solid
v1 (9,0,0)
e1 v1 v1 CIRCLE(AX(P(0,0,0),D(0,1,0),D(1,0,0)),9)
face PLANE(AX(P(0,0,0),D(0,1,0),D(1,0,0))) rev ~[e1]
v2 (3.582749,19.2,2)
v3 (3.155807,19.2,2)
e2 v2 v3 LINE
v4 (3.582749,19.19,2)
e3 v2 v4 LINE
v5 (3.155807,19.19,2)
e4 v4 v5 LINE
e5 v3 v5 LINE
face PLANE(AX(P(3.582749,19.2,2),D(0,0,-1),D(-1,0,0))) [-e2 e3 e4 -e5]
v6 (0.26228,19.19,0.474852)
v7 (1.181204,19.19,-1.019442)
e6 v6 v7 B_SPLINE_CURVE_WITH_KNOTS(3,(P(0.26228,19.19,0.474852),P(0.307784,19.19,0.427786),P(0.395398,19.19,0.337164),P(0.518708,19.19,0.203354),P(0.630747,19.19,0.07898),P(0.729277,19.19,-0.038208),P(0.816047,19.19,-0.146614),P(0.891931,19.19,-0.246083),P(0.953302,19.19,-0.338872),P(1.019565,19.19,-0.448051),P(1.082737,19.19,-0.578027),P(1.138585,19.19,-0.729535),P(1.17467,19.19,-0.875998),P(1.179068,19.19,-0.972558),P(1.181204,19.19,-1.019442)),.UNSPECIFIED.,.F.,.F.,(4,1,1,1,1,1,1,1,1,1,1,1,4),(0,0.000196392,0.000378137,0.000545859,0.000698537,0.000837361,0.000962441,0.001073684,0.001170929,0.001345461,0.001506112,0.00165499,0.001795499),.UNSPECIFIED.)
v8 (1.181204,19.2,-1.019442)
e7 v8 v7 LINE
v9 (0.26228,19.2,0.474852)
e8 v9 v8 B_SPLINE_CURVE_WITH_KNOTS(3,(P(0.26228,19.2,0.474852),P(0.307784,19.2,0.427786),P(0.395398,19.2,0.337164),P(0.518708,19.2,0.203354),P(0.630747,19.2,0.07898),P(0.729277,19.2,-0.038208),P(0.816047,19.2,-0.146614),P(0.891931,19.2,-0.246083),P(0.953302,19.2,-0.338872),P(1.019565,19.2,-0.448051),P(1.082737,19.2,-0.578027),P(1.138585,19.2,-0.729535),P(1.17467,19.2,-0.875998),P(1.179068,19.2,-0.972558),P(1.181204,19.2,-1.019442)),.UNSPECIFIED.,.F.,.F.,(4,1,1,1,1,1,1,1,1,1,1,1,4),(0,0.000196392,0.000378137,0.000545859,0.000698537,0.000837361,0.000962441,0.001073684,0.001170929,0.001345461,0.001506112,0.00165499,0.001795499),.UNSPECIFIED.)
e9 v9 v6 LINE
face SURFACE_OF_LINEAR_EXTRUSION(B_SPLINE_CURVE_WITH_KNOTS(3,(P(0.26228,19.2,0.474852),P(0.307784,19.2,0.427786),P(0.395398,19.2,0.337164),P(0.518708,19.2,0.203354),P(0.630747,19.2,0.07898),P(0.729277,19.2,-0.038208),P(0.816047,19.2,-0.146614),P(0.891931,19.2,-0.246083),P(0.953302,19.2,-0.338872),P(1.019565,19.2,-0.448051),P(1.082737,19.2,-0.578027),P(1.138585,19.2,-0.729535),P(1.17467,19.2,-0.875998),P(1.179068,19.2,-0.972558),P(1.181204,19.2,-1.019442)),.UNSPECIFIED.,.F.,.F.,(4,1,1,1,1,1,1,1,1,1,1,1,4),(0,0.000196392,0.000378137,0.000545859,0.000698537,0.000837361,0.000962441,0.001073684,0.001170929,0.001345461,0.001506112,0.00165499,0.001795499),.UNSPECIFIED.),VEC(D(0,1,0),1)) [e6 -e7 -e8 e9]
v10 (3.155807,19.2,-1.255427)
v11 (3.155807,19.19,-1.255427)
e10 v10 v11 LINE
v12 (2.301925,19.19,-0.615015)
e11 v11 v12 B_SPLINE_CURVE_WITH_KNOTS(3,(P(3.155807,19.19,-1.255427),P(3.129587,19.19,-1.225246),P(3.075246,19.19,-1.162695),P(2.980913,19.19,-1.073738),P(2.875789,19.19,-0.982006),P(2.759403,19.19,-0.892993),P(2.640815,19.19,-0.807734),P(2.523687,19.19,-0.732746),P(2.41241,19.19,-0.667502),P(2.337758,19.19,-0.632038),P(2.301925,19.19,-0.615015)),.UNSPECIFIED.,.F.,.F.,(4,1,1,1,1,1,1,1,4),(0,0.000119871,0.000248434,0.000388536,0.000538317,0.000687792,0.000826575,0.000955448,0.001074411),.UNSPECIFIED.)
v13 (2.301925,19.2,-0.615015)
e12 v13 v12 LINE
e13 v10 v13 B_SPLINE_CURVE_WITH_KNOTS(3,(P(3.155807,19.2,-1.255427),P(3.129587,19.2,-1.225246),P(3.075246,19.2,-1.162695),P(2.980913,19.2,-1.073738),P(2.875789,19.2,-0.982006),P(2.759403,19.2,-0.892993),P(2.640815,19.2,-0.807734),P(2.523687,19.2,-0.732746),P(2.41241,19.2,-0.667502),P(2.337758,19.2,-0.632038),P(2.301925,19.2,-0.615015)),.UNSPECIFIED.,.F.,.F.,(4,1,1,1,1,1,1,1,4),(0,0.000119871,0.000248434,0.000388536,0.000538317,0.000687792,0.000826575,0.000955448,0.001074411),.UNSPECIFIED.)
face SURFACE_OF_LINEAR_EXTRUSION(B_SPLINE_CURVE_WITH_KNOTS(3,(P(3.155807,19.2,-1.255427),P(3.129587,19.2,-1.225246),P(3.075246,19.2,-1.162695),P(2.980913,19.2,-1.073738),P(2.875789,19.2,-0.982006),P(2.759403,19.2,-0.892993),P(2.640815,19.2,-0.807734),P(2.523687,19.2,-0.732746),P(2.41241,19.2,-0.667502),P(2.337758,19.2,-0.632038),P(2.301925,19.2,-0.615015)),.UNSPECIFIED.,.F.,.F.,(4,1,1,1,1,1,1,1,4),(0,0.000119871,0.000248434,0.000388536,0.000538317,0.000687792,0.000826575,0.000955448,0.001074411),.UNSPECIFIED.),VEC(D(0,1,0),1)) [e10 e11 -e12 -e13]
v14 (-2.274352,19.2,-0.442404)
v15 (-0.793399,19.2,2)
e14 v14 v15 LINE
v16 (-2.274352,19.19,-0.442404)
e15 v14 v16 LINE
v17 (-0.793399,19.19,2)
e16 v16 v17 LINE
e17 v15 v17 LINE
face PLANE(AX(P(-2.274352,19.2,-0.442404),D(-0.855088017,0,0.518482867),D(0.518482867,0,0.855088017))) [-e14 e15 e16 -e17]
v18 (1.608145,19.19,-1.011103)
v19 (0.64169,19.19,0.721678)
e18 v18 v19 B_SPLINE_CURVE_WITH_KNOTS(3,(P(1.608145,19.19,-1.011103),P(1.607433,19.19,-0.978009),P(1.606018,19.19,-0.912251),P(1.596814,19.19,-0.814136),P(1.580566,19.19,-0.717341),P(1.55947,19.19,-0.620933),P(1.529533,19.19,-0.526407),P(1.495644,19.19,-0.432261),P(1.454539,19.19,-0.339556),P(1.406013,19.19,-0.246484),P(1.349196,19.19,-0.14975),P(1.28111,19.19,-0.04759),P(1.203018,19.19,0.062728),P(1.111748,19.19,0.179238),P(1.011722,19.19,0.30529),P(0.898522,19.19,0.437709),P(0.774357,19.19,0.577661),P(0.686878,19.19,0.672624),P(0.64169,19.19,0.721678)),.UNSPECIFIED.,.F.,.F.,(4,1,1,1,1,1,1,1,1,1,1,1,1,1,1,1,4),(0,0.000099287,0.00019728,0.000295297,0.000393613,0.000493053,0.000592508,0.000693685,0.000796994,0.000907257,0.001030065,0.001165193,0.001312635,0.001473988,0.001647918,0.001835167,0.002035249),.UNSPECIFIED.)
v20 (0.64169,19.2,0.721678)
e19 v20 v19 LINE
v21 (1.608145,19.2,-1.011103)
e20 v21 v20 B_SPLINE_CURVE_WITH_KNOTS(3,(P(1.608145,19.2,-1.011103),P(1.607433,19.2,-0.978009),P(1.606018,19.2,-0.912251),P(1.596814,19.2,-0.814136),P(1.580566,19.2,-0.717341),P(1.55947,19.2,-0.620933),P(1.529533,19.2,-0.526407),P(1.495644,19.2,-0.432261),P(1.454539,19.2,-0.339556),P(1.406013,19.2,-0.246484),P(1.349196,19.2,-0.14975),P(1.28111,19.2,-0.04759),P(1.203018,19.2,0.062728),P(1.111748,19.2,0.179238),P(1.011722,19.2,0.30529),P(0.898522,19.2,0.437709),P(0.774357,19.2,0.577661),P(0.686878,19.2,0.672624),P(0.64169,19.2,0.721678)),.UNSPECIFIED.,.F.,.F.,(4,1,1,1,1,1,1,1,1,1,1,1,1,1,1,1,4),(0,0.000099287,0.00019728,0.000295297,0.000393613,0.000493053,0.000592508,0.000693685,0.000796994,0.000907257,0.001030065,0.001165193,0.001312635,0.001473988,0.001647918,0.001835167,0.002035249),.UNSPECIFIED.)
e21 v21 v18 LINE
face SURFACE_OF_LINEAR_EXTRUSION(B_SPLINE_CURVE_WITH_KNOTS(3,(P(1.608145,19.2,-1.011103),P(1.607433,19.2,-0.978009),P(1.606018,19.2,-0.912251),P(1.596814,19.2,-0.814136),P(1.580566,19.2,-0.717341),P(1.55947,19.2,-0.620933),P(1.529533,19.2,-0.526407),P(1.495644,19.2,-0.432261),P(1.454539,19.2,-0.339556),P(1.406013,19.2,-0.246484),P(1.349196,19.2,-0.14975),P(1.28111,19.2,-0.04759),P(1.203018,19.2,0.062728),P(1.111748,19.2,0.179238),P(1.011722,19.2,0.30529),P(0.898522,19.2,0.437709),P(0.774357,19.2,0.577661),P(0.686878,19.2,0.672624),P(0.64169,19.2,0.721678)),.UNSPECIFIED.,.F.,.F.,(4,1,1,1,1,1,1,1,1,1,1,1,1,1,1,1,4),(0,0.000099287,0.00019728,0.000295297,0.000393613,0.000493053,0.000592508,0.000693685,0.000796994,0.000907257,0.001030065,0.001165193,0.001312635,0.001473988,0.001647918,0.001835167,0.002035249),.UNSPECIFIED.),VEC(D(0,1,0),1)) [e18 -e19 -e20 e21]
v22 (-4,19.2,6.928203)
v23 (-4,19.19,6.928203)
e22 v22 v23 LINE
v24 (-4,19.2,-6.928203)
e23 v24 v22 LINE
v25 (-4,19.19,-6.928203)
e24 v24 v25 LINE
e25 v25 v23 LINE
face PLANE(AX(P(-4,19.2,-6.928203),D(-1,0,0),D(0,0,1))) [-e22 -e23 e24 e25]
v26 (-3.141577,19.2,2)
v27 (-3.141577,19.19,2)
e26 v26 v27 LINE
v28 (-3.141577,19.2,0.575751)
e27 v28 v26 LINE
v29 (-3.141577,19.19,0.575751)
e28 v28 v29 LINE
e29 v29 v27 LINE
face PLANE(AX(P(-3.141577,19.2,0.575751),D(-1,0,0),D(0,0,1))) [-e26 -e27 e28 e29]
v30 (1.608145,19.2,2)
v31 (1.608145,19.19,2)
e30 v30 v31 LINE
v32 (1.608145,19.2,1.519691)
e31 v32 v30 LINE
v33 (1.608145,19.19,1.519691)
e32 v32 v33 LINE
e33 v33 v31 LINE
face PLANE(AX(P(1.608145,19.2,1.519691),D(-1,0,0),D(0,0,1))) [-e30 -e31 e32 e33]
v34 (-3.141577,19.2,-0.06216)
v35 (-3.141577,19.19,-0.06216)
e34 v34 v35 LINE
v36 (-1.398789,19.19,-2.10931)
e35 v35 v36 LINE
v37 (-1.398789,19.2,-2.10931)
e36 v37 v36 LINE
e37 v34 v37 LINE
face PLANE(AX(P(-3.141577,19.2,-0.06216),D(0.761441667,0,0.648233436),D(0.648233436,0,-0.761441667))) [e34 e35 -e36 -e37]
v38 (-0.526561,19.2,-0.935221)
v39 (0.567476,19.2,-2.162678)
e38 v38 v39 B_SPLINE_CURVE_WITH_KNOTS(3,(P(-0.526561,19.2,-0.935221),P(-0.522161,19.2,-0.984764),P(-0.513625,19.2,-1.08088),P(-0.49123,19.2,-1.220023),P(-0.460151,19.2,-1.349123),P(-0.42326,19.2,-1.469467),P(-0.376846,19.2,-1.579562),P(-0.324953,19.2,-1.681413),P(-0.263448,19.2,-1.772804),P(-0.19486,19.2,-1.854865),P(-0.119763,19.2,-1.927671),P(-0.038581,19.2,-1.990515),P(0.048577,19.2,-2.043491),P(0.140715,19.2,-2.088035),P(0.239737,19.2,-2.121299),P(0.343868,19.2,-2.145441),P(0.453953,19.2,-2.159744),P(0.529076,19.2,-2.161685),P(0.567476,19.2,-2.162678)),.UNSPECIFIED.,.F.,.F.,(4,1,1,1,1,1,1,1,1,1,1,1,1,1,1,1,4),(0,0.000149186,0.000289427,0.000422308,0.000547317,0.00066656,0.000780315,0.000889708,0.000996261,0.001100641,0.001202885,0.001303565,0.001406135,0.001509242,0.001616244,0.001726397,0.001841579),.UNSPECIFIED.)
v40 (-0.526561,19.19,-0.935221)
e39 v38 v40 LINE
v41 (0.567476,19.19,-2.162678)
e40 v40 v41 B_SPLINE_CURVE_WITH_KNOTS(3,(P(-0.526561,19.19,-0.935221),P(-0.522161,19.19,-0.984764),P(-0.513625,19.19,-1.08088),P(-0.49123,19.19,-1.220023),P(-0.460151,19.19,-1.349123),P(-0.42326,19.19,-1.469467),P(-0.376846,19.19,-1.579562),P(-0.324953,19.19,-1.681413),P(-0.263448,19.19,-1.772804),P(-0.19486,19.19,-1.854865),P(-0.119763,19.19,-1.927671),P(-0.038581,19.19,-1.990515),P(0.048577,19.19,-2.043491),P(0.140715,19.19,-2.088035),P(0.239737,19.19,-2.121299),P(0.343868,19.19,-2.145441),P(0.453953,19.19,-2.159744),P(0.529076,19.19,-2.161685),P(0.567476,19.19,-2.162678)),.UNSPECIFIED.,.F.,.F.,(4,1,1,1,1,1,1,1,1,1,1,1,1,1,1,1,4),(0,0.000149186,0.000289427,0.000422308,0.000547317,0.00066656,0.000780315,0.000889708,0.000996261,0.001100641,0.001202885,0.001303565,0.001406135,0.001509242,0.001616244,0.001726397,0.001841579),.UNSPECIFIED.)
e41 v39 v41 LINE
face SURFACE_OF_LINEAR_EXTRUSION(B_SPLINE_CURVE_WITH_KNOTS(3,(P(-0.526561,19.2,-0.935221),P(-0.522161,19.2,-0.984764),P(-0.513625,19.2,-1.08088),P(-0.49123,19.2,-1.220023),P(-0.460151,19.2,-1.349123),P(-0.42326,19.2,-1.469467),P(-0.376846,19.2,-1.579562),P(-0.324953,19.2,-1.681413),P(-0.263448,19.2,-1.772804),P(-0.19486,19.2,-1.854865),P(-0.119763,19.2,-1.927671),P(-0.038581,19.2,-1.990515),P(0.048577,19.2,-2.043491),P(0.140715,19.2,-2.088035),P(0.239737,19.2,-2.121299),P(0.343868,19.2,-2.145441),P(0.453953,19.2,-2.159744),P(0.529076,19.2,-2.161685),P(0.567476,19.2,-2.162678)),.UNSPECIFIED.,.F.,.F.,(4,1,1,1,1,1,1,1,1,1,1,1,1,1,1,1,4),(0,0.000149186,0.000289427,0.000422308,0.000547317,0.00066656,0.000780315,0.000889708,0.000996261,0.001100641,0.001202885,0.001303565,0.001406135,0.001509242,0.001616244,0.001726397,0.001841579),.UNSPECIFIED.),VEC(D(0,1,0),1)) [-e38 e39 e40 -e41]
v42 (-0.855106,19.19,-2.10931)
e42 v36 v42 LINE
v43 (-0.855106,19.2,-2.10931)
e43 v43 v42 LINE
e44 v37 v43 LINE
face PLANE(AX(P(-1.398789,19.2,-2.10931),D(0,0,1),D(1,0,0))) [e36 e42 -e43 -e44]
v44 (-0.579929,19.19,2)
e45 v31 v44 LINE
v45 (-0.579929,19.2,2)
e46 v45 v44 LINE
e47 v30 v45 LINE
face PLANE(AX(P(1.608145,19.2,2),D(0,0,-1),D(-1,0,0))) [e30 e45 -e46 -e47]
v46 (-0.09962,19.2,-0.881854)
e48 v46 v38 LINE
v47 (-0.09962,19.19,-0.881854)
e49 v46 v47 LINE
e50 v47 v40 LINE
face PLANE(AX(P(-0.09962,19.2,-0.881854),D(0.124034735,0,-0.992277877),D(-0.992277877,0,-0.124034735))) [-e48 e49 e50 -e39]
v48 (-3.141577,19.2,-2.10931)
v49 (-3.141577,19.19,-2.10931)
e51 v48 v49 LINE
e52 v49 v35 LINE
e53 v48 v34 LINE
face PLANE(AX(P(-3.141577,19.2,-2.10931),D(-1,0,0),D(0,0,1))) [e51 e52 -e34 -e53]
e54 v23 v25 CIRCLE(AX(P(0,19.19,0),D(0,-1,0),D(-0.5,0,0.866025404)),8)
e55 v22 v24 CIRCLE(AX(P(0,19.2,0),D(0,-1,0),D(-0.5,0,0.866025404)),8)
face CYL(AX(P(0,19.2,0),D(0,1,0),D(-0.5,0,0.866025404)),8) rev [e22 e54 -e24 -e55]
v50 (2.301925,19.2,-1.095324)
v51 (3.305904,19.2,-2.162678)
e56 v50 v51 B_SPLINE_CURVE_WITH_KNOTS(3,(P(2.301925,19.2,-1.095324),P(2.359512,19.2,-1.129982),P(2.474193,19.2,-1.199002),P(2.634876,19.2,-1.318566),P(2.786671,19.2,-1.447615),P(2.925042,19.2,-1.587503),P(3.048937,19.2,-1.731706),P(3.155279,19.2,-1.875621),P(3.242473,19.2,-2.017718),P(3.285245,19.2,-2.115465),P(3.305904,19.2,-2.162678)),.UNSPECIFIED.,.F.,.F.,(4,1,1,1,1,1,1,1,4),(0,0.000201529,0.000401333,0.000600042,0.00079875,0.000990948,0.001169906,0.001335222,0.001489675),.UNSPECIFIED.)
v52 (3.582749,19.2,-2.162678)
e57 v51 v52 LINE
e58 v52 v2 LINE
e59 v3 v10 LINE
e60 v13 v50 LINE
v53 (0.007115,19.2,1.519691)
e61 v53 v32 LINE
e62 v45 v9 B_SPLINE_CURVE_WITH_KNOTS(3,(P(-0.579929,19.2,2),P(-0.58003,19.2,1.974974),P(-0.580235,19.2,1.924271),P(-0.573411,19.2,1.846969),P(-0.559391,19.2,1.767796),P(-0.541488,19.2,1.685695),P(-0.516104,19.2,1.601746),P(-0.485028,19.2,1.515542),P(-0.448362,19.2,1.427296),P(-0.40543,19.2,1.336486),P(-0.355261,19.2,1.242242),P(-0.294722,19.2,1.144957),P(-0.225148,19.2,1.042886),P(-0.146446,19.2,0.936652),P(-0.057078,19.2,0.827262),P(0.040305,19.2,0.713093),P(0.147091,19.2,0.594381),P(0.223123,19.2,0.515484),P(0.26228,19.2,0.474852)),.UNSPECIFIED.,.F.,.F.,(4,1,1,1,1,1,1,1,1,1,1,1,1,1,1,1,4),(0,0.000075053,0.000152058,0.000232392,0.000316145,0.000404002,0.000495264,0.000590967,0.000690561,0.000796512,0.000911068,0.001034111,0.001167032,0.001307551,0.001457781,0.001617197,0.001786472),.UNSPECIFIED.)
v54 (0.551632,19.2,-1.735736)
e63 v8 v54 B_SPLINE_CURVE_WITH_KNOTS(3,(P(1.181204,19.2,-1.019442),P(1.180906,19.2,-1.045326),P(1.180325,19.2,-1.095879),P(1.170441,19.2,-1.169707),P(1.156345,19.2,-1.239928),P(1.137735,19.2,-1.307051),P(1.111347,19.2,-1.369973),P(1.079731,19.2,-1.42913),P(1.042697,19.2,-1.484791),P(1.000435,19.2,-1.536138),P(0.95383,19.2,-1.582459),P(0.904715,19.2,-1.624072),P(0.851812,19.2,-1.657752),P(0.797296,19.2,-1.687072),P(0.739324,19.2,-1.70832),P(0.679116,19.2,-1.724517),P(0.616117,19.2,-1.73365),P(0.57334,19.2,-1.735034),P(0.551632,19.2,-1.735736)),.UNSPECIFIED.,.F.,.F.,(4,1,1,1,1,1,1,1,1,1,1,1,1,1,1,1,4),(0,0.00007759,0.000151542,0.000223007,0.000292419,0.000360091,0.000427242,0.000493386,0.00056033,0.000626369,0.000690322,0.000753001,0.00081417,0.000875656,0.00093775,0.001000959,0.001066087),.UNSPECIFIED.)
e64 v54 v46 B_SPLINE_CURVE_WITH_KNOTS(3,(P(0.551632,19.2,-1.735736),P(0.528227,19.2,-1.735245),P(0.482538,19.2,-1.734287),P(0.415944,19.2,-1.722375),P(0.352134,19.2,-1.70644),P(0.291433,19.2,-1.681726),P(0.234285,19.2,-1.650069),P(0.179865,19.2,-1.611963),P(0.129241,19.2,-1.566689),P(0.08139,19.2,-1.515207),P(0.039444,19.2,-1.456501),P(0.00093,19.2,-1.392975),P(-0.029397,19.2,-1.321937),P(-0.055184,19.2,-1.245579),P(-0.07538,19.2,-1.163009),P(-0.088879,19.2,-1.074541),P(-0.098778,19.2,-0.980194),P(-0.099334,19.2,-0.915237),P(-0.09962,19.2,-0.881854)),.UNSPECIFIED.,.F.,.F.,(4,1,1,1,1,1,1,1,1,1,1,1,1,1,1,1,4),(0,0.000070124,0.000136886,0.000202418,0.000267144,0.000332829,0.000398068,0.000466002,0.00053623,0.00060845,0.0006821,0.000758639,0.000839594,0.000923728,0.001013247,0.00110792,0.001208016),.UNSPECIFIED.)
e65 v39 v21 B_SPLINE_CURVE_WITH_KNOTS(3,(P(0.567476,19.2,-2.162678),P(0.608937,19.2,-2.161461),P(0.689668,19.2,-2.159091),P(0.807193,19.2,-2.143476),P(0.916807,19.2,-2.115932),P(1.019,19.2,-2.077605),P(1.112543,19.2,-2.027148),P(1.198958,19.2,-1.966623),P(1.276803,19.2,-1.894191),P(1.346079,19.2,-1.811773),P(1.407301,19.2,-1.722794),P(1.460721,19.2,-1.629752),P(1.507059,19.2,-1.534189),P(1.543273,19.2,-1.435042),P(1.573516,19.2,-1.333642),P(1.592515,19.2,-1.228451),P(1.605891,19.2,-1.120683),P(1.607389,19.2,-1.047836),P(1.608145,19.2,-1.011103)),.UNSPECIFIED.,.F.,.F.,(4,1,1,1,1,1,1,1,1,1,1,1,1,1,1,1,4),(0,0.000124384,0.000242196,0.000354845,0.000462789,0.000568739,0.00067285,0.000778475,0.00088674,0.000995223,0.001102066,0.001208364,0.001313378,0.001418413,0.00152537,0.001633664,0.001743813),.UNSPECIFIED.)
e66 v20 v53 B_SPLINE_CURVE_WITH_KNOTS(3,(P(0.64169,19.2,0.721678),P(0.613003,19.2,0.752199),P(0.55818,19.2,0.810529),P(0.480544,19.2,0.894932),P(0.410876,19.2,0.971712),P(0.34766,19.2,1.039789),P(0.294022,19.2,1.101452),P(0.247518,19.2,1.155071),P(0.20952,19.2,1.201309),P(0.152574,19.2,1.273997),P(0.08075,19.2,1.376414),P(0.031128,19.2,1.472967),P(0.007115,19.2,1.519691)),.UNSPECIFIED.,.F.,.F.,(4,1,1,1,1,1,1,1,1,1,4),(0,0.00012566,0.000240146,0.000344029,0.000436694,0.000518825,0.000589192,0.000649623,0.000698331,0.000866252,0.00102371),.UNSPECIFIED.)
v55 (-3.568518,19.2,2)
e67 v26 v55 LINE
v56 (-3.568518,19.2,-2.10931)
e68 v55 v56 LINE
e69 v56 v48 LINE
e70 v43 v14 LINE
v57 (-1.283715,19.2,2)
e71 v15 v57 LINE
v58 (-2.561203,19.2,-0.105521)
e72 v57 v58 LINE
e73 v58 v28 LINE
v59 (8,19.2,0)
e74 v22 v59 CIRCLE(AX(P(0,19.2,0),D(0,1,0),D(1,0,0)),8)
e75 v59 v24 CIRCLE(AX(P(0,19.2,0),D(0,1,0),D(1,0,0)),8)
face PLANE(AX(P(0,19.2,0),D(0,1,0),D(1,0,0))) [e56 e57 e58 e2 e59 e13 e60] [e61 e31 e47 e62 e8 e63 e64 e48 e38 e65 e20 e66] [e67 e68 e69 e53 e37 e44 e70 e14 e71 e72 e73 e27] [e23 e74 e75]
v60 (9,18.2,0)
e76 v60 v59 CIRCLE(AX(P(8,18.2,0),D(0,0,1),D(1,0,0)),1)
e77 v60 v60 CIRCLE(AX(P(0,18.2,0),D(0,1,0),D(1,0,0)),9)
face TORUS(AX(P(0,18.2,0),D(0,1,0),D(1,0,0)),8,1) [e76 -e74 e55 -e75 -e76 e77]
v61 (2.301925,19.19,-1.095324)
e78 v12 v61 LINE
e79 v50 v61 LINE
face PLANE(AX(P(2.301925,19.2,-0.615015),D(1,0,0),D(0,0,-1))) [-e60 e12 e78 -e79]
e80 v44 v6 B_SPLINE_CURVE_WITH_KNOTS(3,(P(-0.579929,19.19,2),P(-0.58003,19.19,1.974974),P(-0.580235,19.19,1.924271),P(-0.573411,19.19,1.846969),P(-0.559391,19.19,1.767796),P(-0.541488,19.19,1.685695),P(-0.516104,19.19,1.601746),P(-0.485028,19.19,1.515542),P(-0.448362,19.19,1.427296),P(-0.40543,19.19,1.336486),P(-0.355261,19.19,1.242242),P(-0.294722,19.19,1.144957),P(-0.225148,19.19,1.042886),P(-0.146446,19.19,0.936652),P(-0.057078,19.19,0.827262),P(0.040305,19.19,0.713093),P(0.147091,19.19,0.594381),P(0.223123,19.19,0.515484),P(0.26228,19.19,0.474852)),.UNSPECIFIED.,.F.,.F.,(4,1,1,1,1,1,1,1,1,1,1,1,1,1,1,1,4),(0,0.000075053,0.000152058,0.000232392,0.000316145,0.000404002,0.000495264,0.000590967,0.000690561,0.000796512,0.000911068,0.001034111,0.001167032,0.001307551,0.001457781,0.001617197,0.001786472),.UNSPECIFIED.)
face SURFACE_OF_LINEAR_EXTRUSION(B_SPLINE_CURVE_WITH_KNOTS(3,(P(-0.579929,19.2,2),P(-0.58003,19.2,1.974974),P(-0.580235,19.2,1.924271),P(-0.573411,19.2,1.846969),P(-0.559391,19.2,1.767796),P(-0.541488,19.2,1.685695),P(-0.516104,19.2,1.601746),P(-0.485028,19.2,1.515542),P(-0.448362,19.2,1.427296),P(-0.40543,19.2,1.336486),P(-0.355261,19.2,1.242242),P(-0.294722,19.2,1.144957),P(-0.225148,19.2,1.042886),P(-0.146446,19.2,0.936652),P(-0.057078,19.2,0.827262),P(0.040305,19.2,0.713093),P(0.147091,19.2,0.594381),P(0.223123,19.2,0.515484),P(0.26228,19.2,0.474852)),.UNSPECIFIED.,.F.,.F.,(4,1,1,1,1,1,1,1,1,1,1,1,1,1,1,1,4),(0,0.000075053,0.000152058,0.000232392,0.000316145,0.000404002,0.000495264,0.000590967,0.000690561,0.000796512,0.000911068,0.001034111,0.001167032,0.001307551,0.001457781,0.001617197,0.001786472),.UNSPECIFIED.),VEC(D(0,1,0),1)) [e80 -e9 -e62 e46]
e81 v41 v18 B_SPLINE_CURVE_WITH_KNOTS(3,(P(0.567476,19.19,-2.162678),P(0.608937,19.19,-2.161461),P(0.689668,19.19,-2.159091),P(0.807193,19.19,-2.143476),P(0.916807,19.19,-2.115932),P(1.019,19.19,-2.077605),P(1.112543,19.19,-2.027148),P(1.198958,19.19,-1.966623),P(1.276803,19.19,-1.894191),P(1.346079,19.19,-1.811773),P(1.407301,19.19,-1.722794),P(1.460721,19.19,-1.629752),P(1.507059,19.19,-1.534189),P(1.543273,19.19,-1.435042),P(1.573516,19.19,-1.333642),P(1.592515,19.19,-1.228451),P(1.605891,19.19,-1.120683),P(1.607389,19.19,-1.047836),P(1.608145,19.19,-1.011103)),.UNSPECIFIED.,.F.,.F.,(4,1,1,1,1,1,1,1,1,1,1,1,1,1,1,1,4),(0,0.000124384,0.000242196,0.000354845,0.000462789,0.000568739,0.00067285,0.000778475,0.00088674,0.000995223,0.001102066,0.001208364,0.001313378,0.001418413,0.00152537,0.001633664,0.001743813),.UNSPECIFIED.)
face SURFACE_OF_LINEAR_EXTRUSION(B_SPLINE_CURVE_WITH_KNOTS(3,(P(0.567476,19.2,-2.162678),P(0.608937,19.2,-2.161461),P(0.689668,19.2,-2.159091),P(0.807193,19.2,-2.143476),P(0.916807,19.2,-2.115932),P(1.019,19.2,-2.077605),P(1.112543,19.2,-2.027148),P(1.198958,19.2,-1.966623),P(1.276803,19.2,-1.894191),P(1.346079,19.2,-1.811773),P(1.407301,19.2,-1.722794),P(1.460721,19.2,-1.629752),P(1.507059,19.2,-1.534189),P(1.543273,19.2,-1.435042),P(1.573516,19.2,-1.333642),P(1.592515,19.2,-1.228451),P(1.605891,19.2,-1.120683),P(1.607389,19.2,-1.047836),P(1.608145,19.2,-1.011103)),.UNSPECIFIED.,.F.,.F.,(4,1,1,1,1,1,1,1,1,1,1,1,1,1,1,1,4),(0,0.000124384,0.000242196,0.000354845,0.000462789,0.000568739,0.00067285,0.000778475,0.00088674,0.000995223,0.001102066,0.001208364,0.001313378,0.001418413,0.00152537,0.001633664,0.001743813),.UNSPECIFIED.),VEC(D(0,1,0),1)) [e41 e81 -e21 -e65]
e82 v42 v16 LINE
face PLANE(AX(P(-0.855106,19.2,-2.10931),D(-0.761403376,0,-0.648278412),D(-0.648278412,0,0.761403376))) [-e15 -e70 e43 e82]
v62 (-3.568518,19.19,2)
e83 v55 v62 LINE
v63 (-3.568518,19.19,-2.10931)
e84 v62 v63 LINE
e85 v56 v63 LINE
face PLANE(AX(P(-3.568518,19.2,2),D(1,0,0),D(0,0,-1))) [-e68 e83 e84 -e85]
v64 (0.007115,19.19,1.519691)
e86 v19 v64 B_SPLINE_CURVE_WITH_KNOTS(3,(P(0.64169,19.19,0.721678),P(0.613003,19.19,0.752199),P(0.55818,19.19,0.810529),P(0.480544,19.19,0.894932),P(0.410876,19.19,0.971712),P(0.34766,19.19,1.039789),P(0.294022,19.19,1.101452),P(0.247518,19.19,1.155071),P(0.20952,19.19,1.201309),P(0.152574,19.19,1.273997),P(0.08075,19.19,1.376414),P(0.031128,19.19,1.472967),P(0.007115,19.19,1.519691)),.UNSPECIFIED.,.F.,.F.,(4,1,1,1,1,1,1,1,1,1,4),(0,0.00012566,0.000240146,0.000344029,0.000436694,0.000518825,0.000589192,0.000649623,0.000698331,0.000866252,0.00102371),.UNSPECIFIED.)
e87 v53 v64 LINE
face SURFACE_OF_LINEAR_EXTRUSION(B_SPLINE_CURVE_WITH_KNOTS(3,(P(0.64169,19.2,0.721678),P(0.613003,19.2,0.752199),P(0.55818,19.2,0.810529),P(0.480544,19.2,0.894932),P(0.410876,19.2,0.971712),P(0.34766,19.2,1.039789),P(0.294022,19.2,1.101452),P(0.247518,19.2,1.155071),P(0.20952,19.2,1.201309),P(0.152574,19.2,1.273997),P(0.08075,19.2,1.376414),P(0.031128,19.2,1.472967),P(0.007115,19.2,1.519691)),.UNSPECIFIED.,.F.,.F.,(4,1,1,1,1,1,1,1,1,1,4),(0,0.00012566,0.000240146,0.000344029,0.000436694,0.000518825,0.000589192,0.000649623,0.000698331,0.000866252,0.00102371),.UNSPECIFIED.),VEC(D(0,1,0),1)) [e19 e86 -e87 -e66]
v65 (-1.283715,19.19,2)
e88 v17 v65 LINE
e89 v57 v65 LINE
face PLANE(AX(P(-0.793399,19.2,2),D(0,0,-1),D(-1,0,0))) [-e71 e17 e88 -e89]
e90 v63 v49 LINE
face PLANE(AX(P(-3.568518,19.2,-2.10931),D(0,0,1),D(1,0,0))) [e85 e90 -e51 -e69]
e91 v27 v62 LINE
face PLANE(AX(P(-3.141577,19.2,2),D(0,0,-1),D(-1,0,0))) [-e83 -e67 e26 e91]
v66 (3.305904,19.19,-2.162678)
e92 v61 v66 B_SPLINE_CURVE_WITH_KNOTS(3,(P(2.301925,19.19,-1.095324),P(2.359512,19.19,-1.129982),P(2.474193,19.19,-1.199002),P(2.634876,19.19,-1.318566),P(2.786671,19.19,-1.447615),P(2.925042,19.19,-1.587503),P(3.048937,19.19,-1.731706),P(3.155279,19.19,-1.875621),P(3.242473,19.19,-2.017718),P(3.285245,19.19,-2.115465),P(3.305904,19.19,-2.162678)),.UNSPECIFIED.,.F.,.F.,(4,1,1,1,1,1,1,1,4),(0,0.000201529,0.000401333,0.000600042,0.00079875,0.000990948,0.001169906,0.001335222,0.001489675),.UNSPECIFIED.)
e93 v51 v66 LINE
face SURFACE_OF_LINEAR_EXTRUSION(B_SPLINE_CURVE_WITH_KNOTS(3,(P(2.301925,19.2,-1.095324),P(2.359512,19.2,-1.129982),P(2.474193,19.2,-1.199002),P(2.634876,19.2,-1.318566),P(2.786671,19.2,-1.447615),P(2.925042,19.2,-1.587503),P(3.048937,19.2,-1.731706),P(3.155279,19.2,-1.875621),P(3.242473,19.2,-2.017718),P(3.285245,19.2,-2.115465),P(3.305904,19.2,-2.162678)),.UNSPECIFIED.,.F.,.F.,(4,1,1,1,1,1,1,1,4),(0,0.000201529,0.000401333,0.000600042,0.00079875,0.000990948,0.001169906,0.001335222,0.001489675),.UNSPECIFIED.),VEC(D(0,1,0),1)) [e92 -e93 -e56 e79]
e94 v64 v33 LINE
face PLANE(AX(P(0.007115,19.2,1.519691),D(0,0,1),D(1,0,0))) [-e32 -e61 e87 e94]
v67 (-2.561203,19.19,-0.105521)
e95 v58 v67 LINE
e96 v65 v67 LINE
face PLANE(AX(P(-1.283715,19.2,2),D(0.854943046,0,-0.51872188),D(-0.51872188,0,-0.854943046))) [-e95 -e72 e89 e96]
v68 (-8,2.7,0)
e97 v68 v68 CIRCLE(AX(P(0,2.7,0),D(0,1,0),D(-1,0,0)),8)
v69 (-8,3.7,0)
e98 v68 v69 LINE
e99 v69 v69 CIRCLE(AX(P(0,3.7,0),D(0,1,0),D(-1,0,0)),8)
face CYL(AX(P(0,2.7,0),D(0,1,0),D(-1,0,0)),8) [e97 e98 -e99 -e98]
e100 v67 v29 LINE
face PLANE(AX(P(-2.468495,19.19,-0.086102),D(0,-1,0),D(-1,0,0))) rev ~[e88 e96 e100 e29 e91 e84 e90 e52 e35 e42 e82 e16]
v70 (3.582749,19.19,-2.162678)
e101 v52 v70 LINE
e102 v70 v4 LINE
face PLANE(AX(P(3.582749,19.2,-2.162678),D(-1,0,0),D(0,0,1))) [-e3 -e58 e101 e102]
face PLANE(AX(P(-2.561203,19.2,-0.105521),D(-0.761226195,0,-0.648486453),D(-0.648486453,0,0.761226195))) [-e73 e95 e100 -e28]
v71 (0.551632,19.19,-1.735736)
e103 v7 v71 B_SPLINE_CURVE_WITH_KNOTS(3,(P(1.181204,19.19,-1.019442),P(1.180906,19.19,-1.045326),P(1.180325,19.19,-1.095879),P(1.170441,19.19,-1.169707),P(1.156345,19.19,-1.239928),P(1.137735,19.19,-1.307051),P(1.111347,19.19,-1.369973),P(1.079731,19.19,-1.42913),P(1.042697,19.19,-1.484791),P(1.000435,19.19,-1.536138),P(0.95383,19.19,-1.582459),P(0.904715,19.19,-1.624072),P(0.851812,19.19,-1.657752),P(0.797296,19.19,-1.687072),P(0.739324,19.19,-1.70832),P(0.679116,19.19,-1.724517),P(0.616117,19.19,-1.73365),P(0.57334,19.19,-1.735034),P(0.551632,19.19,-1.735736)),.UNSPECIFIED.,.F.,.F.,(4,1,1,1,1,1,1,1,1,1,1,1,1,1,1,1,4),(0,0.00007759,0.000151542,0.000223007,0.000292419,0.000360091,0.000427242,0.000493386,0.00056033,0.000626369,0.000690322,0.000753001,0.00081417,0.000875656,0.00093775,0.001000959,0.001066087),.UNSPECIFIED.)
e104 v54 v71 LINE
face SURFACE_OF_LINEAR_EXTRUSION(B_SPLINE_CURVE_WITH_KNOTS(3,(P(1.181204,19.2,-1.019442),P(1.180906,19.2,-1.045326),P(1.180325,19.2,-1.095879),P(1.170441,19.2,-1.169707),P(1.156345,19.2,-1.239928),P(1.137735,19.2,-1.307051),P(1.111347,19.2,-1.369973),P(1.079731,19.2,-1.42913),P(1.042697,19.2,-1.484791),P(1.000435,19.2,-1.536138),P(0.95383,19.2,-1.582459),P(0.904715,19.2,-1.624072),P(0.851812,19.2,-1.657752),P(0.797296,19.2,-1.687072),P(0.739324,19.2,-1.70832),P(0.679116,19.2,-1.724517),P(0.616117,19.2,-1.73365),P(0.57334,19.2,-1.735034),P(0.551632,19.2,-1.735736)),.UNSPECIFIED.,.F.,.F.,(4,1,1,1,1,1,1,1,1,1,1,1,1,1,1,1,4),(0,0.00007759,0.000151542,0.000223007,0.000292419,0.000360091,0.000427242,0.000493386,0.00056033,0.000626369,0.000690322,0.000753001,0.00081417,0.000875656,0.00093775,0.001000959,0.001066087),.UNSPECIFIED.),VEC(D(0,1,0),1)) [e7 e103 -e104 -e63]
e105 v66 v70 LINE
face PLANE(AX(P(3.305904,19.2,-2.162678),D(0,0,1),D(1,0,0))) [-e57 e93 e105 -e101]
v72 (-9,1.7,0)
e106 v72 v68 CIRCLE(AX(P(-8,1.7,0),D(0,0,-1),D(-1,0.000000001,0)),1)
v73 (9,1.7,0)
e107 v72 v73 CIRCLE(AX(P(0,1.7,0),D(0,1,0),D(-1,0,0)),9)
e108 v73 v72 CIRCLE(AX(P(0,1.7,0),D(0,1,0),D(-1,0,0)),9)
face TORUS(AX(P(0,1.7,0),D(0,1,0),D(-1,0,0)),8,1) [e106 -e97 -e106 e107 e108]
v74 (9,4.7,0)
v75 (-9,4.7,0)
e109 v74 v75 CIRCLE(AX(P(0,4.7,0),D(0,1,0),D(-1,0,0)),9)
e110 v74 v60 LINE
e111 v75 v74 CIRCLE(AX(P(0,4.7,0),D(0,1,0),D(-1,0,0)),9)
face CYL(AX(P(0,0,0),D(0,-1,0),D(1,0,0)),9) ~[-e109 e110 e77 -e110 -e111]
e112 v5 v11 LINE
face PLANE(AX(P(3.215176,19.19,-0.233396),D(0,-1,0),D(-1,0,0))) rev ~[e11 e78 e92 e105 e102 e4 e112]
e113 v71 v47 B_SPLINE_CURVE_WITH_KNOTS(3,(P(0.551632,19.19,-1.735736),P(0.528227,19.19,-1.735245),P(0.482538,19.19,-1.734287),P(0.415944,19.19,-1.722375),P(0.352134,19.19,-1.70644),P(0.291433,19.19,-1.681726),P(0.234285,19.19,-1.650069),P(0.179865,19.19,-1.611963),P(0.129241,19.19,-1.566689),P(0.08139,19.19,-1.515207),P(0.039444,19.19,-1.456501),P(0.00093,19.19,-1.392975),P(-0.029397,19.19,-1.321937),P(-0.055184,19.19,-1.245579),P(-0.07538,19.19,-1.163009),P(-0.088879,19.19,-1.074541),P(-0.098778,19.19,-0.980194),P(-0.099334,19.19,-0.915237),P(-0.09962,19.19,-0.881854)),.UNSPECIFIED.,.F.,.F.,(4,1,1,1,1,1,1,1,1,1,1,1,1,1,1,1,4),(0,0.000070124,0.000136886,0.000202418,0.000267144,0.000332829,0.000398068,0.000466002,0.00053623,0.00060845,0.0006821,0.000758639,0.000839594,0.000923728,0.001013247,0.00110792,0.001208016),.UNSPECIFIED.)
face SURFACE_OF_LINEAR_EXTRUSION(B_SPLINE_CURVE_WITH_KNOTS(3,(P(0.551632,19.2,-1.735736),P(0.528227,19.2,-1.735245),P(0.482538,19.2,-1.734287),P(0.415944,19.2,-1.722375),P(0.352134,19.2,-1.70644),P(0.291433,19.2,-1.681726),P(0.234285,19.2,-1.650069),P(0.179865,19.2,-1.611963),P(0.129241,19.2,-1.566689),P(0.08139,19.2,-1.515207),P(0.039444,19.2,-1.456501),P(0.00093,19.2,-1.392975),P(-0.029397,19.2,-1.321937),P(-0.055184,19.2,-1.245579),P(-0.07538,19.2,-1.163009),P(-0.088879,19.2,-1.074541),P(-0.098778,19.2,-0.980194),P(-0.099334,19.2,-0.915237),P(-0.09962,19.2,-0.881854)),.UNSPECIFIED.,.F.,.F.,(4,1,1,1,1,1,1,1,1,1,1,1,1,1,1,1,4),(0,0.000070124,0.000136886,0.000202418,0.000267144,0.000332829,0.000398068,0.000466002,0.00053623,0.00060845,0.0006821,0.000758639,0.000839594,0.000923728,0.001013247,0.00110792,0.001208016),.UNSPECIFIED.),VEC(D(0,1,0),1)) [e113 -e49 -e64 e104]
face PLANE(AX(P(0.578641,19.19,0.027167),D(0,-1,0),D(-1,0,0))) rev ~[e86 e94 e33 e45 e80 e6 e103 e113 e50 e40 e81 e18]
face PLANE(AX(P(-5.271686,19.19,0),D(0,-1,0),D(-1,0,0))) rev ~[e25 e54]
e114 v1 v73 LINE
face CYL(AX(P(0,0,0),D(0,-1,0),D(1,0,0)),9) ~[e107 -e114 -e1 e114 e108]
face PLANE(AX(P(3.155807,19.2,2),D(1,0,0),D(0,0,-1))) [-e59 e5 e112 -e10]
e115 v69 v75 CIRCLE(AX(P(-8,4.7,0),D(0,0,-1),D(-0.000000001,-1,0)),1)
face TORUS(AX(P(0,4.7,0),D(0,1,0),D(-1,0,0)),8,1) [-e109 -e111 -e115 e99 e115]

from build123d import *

# Parameters (mm, degrees)
SKETCH1_R           = 9
BOSS_EXTRUDE1_DEPTH = 19.2
FILLET1_R           = 1
CUT_EXTRUDE1_DEPTH  = 0.01
CUT_EXTRUDE2_DEPTH  = 0.01


with BuildPart() as part:
    # Sketch1 → Boss-Extrude1 (new body)
    with BuildSketch(Plane(origin=(0, 0, 0), x_dir=(1, 0, 0), z_dir=(0, 1, 0))):
        Circle(SKETCH1_R)
    extrude(amount=BOSS_EXTRUDE1_DEPTH)

    # Fillet1
    fillet1_edges = [part.edges().sort_by_distance(p)[0] for p in [
        (-9, 19.2, 0),
    ]]
    fillet(fillet1_edges, radius=FILLET1_R)

    # Sketch2 → Cut-Revolve1 (revolve, cut)
    with BuildSketch(Plane.XY):
        with BuildLine():
            Line((-9, 4.7), (-9, 1.7))
            ThreePointArc((-9, 1.7), (-8.707106781, 2.407106781), (-8, 2.7))
            Line((-8, 2.7), (-8, 3.7))
            ThreePointArc((-8, 3.7), (-8.707106781, 3.992893219), (-9, 4.7))
        make_face()
    revolve(axis=Axis((0, -0.75, 0), (0, 1, 0)), mode=Mode.SUBTRACT)

    # Sketch3 → Cut-Extrude1 (cut)
    with BuildSketch(Plane(origin=(0, 19.2, 0), x_dir=(1, 0, 0), z_dir=(0, 1, 0))):
        with BuildLine():
            Line((-4, 6.92820323), (-4, -6.92820323))
            ThreePointArc((-4, -6.92820323), (-8, 0), (-4, 6.92820323))
        make_face()
    extrude(amount=-CUT_EXTRUDE1_DEPTH, mode=Mode.SUBTRACT)

    # Sketch4 → Cut-Extrude2 (cut)
    with BuildSketch(Plane(origin=(0, 19.2, 0), x_dir=(1, 0, 0), z_dir=(0, 1, 0))):
        Polygon((-3.568517869, -2), (-3.568517869, 2.109309896), (-3.141576581, 2.109309896), (-3.141576581, 0.062159775), (-1.398788902, 2.109309896), (-0.855105856, 2.109309896), (-2.27435209, 0.44240436), (-0.793399498, -2), (-1.283714883, -2), (-2.561203268, 0.105521), (-3.141576581, -0.575750547), (-3.141576581, -2), align=None)
        with BuildLine():
            Line((1.608145247, -1.519691051), (1.608145247, -2))
            Line((1.608145247, -2), (-0.579928854, -2))
            add(Edge.make_bspline(
                [(-0.579928854, -2), (-0.580030163, -1.974973894), (-0.580235417, -1.924270595), (-0.573411363, -1.84696894), (-0.559390758, -1.767795767), (-0.541487877, -1.685694894), (-0.516103543, -1.601746123), (-0.485028409, -1.515541552), (-0.448362485, -1.427295796), (-0.405430031, -1.336486232), (-0.355261299, -1.242241802), (-0.29472218, -1.144956808), (-0.22514772, -1.042886175), (-0.146445909, -0.936652158), (-0.057077523, -0.827262261), (0.040304888, -0.713092602), (0.147091103, -0.594380978), (0.223123115, -0.515484132), (0.262279546, -0.474852313)],
                knots=[0, 0, 0, 0, 7.5053e-05, 0.000152058, 0.000232392, 0.000316145, 0.000404002, 0.000495264, 0.000590967, 0.000690561, 0.000796512, 0.000911068, 0.001034111, 0.001167032, 0.001307551, 0.001457781, 0.001617197, 0.001786472, 0.001786472, 0.001786472, 0.001786472], degree=3))
            add(Edge.make_bspline(
                [(0.262279546, -0.474852313), (0.307783709, -0.427786045), (0.395398434, -0.337163605), (0.518707793, -0.20335402), (0.63074673, -0.078979672), (0.729276779, 0.038208492), (0.81604721, 0.146614403), (0.891931027, 0.246083065), (0.953301744, 0.338871858), (1.019564668, 0.4480512), (1.082736953, 0.578027477), (1.138584831, 0.729535393), (1.17466971, 0.875998462), (1.179068277, 0.972558443), (1.181203959, 1.019442194)],
                knots=[0, 0, 0, 0, 0.000196392, 0.000378137, 0.000545859, 0.000698537, 0.000837361, 0.000962441, 0.001073684, 0.001170929, 0.001345461, 0.001506112, 0.00165499, 0.001795499, 0.001795499, 0.001795499, 0.001795499], degree=3))
            add(Edge.make_bspline(
                [(1.181203959, 1.019442194), (1.180906167, 1.045325757), (1.180324549, 1.095879063), (1.17044076, 1.169706759), (1.156345175, 1.239928333), (1.137734826, 1.307051289), (1.111347496, 1.369973118), (1.079731025, 1.429130374), (1.042696817, 1.484790988), (1.00043516, 1.536137563), (0.953830167, 1.582458591), (0.904715044, 1.624072216), (0.851812101, 1.657752353), (0.79729566, 1.687071594), (0.739323506, 1.708320386), (0.679116382, 1.72451746), (0.616117255, 1.733650108), (0.573340408, 1.735033988), (0.551632333, 1.735736269)],
                knots=[0, 0, 0, 0, 7.759e-05, 0.000151542, 0.000223007, 0.000292419, 0.000360091, 0.000427242, 0.000493386, 0.00056033, 0.000626369, 0.000690322, 0.000753001, 0.00081417, 0.000875656, 0.00093775, 0.001000959, 0.001066087, 0.001066087, 0.001066087, 0.001066087], degree=3))
            add(Edge.make_bspline(
                [(0.551632333, 1.735736269), (0.528226771, 1.735245249), (0.48253804, 1.734286754), (0.415943734, 1.722375263), (0.352134158, 1.706440041), (0.291433109, 1.681725902), (0.234284586, 1.650068594), (0.179865337, 1.611963), (0.129240549, 1.566688844), (0.081390427, 1.51520671), (0.0394437, 1.456500761), (0.00093045, 1.392974506), (-0.029397111, 1.321936977), (-0.055184289, 1.245578615), (-0.075379706, 1.163009336), (-0.08887873, 1.074540543), (-0.098778232, 0.980193805), (-0.099334188, 0.9152366), (-0.099619905, 0.881853693)],
                knots=[0, 0, 0, 0, 7.0124e-05, 0.000136886, 0.000202418, 0.000267144, 0.000332829, 0.000398068, 0.000466002, 0.00053623, 0.00060845, 0.0006821, 0.000758639, 0.000839594, 0.000923728, 0.001013247, 0.00110792, 0.001208016, 0.001208016, 0.001208016, 0.001208016], degree=3))
            Line((-0.099619905, 0.881853693), (-0.526561193, 0.935221354))
            add(Edge.make_bspline(
                [(-0.526561193, 0.935221354), (-0.522161355, 0.984764496), (-0.51362547, 1.080880441), (-0.491229682, 1.220023192), (-0.460151497, 1.349122738), (-0.423259749, 1.469467004), (-0.37684568, 1.579562455), (-0.32495328, 1.681412702), (-0.263448356, 1.772803706), (-0.194860218, 1.854865311), (-0.119763265, 1.927670687), (-0.038580752, 1.990514656), (0.048577079, 2.043490936), (0.140714878, 2.088035445), (0.239737182, 2.121299299), (0.343867527, 2.145441457), (0.453952846, 2.159744427), (0.529075899, 2.161685405), (0.567475857, 2.162677557)],
                knots=[0, 0, 0, 0, 0.000149186, 0.000289427, 0.000422308, 0.000547317, 0.00066656, 0.000780315, 0.000889708, 0.000996261, 0.001100641, 0.001202885, 0.001303565, 0.001406135, 0.001509242, 0.001616244, 0.001726397, 0.001841579, 0.001841579, 0.001841579, 0.001841579], degree=3))
            add(Edge.make_bspline(
                [(0.567475857, 2.162677557), (0.608936701, 2.161460519), (0.689667848, 2.159090743), (0.807193372, 2.143475809), (0.916807406, 2.115932118), (1.018999557, 2.077604645), (1.112542526, 2.027147582), (1.198957878, 1.966622956), (1.276803441, 1.894190881), (1.346078887, 1.811773402), (1.407300961, 1.722793837), (1.460721222, 1.629751813), (1.507059009, 1.534189022), (1.543273299, 1.435042114), (1.573516087, 1.33364172), (1.592515267, 1.22845074), (1.605890551, 1.120682885), (1.607389437, 1.047836248), (1.608145247, 1.011103497)],
                knots=[0, 0, 0, 0, 0.000124384, 0.000242196, 0.000354845, 0.000462789, 0.000568739, 0.00067285, 0.000778475, 0.00088674, 0.000995223, 0.001102066, 0.001208364, 0.001313378, 0.001418413, 0.00152537, 0.001633664, 0.001743813, 0.001743813, 0.001743813, 0.001743813], degree=3))
            add(Edge.make_bspline(
                [(1.608145247, 1.011103497), (1.607433131, 0.978008896), (1.606018176, 0.912250864), (1.596813778, 0.814136149), (1.580566309, 0.717340512), (1.559469686, 0.620933232), (1.529533435, 0.526407037), (1.495644001, 0.432260621), (1.454538746, 0.339556084), (1.406012971, 0.24648385), (1.349195592, 0.149750322), (1.281109579, 0.047590004), (1.203017594, -0.062727889), (1.111747658, -0.179237735), (1.011722256, -0.305290035), (0.898522434, -0.437708632), (0.774356786, -0.577661228), (0.686878474, -0.672623554), (0.641690261, -0.721677745)],
                knots=[0, 0, 0, 0, 9.9287e-05, 0.00019728, 0.000295297, 0.000393613, 0.000493053, 0.000592508, 0.000693685, 0.000796994, 0.000907257, 0.001030065, 0.001165193, 0.001312635, 0.001473988, 0.001647918, 0.001835167, 0.002035249, 0.002035249, 0.002035249, 0.002035249], degree=3))
            add(Edge.make_bspline(
                [(0.641690261, -0.721677745), (0.613003238, -0.752199341), (0.558180033, -0.810528561), (0.480543807, -0.894931672), (0.410876198, -0.971712133), (0.347660418, -1.039789018), (0.294021708, -1.101451752), (0.24751759, -1.155071433), (0.209520156, -1.201308971), (0.152573929, -1.273997274), (0.080749983, -1.376414434), (0.031128398, -1.472967089), (0.007115417, -1.519691051)],
                knots=[0, 0, 0, 0, 0.00012566, 0.000240146, 0.000344029, 0.000436694, 0.000518825, 0.000589192, 0.000649623, 0.000698331, 0.000866252, 0.00102371, 0.00102371, 0.00102371, 0.00102371], degree=3))
            Line((0.007115417, -1.519691051), (1.608145247, -1.519691051))
        make_face()
        with BuildLine():
            Line((3.582748703, -2), (3.155807415, -2))
            Line((3.155807415, -2), (3.155807415, 1.25542732))
            add(Edge.make_bspline(
                [(3.155807415, 1.25542732), (3.129587392, 1.225245825), (3.075246421, 1.162694706), (2.980913282, 1.0737383), (2.87578942, 0.982006095), (2.759403349, 0.892993451), (2.640815205, 0.807733741), (2.523687376, 0.732746343), (2.412409759, 0.667501655), (2.337758183, 0.63203815), (2.301924839, 0.615015388)],
                knots=[0, 0, 0, 0, 0.000119871, 0.000248434, 0.000388536, 0.000538317, 0.000687792, 0.000826575, 0.000955448, 0.001074411, 0.001074411, 0.001074411, 0.001074411], degree=3))
            Line((2.301924839, 0.615015388), (2.301924839, 1.095324337))
            add(Edge.make_bspline(
                [(2.301924839, 1.095324337), (2.359511914, 1.12998243), (2.474192959, 1.199001848), (2.634876111, 1.318565767), (2.786671409, 1.447615361), (2.925041729, 1.587502781), (3.048937153, 1.731705768), (3.155279444, 1.875620528), (3.242473386, 2.017717985), (3.285244807, 2.115464643), (3.305903962, 2.162677557)],
                knots=[0, 0, 0, 0, 0.000201529, 0.000401333, 0.000600042, 0.00079875, 0.000990948, 0.001169906, 0.001335222, 0.001489675, 0.001489675, 0.001489675, 0.001489675], degree=3))
            Line((3.305903962, 2.162677557), (3.582748703, 2.162677557))
            Line((3.582748703, 2.162677557), (3.582748703, -2))
        make_face()
    extrude(amount=-CUT_EXTRUDE2_DEPTH, mode=Mode.SUBTRACT)


solid = part.part
